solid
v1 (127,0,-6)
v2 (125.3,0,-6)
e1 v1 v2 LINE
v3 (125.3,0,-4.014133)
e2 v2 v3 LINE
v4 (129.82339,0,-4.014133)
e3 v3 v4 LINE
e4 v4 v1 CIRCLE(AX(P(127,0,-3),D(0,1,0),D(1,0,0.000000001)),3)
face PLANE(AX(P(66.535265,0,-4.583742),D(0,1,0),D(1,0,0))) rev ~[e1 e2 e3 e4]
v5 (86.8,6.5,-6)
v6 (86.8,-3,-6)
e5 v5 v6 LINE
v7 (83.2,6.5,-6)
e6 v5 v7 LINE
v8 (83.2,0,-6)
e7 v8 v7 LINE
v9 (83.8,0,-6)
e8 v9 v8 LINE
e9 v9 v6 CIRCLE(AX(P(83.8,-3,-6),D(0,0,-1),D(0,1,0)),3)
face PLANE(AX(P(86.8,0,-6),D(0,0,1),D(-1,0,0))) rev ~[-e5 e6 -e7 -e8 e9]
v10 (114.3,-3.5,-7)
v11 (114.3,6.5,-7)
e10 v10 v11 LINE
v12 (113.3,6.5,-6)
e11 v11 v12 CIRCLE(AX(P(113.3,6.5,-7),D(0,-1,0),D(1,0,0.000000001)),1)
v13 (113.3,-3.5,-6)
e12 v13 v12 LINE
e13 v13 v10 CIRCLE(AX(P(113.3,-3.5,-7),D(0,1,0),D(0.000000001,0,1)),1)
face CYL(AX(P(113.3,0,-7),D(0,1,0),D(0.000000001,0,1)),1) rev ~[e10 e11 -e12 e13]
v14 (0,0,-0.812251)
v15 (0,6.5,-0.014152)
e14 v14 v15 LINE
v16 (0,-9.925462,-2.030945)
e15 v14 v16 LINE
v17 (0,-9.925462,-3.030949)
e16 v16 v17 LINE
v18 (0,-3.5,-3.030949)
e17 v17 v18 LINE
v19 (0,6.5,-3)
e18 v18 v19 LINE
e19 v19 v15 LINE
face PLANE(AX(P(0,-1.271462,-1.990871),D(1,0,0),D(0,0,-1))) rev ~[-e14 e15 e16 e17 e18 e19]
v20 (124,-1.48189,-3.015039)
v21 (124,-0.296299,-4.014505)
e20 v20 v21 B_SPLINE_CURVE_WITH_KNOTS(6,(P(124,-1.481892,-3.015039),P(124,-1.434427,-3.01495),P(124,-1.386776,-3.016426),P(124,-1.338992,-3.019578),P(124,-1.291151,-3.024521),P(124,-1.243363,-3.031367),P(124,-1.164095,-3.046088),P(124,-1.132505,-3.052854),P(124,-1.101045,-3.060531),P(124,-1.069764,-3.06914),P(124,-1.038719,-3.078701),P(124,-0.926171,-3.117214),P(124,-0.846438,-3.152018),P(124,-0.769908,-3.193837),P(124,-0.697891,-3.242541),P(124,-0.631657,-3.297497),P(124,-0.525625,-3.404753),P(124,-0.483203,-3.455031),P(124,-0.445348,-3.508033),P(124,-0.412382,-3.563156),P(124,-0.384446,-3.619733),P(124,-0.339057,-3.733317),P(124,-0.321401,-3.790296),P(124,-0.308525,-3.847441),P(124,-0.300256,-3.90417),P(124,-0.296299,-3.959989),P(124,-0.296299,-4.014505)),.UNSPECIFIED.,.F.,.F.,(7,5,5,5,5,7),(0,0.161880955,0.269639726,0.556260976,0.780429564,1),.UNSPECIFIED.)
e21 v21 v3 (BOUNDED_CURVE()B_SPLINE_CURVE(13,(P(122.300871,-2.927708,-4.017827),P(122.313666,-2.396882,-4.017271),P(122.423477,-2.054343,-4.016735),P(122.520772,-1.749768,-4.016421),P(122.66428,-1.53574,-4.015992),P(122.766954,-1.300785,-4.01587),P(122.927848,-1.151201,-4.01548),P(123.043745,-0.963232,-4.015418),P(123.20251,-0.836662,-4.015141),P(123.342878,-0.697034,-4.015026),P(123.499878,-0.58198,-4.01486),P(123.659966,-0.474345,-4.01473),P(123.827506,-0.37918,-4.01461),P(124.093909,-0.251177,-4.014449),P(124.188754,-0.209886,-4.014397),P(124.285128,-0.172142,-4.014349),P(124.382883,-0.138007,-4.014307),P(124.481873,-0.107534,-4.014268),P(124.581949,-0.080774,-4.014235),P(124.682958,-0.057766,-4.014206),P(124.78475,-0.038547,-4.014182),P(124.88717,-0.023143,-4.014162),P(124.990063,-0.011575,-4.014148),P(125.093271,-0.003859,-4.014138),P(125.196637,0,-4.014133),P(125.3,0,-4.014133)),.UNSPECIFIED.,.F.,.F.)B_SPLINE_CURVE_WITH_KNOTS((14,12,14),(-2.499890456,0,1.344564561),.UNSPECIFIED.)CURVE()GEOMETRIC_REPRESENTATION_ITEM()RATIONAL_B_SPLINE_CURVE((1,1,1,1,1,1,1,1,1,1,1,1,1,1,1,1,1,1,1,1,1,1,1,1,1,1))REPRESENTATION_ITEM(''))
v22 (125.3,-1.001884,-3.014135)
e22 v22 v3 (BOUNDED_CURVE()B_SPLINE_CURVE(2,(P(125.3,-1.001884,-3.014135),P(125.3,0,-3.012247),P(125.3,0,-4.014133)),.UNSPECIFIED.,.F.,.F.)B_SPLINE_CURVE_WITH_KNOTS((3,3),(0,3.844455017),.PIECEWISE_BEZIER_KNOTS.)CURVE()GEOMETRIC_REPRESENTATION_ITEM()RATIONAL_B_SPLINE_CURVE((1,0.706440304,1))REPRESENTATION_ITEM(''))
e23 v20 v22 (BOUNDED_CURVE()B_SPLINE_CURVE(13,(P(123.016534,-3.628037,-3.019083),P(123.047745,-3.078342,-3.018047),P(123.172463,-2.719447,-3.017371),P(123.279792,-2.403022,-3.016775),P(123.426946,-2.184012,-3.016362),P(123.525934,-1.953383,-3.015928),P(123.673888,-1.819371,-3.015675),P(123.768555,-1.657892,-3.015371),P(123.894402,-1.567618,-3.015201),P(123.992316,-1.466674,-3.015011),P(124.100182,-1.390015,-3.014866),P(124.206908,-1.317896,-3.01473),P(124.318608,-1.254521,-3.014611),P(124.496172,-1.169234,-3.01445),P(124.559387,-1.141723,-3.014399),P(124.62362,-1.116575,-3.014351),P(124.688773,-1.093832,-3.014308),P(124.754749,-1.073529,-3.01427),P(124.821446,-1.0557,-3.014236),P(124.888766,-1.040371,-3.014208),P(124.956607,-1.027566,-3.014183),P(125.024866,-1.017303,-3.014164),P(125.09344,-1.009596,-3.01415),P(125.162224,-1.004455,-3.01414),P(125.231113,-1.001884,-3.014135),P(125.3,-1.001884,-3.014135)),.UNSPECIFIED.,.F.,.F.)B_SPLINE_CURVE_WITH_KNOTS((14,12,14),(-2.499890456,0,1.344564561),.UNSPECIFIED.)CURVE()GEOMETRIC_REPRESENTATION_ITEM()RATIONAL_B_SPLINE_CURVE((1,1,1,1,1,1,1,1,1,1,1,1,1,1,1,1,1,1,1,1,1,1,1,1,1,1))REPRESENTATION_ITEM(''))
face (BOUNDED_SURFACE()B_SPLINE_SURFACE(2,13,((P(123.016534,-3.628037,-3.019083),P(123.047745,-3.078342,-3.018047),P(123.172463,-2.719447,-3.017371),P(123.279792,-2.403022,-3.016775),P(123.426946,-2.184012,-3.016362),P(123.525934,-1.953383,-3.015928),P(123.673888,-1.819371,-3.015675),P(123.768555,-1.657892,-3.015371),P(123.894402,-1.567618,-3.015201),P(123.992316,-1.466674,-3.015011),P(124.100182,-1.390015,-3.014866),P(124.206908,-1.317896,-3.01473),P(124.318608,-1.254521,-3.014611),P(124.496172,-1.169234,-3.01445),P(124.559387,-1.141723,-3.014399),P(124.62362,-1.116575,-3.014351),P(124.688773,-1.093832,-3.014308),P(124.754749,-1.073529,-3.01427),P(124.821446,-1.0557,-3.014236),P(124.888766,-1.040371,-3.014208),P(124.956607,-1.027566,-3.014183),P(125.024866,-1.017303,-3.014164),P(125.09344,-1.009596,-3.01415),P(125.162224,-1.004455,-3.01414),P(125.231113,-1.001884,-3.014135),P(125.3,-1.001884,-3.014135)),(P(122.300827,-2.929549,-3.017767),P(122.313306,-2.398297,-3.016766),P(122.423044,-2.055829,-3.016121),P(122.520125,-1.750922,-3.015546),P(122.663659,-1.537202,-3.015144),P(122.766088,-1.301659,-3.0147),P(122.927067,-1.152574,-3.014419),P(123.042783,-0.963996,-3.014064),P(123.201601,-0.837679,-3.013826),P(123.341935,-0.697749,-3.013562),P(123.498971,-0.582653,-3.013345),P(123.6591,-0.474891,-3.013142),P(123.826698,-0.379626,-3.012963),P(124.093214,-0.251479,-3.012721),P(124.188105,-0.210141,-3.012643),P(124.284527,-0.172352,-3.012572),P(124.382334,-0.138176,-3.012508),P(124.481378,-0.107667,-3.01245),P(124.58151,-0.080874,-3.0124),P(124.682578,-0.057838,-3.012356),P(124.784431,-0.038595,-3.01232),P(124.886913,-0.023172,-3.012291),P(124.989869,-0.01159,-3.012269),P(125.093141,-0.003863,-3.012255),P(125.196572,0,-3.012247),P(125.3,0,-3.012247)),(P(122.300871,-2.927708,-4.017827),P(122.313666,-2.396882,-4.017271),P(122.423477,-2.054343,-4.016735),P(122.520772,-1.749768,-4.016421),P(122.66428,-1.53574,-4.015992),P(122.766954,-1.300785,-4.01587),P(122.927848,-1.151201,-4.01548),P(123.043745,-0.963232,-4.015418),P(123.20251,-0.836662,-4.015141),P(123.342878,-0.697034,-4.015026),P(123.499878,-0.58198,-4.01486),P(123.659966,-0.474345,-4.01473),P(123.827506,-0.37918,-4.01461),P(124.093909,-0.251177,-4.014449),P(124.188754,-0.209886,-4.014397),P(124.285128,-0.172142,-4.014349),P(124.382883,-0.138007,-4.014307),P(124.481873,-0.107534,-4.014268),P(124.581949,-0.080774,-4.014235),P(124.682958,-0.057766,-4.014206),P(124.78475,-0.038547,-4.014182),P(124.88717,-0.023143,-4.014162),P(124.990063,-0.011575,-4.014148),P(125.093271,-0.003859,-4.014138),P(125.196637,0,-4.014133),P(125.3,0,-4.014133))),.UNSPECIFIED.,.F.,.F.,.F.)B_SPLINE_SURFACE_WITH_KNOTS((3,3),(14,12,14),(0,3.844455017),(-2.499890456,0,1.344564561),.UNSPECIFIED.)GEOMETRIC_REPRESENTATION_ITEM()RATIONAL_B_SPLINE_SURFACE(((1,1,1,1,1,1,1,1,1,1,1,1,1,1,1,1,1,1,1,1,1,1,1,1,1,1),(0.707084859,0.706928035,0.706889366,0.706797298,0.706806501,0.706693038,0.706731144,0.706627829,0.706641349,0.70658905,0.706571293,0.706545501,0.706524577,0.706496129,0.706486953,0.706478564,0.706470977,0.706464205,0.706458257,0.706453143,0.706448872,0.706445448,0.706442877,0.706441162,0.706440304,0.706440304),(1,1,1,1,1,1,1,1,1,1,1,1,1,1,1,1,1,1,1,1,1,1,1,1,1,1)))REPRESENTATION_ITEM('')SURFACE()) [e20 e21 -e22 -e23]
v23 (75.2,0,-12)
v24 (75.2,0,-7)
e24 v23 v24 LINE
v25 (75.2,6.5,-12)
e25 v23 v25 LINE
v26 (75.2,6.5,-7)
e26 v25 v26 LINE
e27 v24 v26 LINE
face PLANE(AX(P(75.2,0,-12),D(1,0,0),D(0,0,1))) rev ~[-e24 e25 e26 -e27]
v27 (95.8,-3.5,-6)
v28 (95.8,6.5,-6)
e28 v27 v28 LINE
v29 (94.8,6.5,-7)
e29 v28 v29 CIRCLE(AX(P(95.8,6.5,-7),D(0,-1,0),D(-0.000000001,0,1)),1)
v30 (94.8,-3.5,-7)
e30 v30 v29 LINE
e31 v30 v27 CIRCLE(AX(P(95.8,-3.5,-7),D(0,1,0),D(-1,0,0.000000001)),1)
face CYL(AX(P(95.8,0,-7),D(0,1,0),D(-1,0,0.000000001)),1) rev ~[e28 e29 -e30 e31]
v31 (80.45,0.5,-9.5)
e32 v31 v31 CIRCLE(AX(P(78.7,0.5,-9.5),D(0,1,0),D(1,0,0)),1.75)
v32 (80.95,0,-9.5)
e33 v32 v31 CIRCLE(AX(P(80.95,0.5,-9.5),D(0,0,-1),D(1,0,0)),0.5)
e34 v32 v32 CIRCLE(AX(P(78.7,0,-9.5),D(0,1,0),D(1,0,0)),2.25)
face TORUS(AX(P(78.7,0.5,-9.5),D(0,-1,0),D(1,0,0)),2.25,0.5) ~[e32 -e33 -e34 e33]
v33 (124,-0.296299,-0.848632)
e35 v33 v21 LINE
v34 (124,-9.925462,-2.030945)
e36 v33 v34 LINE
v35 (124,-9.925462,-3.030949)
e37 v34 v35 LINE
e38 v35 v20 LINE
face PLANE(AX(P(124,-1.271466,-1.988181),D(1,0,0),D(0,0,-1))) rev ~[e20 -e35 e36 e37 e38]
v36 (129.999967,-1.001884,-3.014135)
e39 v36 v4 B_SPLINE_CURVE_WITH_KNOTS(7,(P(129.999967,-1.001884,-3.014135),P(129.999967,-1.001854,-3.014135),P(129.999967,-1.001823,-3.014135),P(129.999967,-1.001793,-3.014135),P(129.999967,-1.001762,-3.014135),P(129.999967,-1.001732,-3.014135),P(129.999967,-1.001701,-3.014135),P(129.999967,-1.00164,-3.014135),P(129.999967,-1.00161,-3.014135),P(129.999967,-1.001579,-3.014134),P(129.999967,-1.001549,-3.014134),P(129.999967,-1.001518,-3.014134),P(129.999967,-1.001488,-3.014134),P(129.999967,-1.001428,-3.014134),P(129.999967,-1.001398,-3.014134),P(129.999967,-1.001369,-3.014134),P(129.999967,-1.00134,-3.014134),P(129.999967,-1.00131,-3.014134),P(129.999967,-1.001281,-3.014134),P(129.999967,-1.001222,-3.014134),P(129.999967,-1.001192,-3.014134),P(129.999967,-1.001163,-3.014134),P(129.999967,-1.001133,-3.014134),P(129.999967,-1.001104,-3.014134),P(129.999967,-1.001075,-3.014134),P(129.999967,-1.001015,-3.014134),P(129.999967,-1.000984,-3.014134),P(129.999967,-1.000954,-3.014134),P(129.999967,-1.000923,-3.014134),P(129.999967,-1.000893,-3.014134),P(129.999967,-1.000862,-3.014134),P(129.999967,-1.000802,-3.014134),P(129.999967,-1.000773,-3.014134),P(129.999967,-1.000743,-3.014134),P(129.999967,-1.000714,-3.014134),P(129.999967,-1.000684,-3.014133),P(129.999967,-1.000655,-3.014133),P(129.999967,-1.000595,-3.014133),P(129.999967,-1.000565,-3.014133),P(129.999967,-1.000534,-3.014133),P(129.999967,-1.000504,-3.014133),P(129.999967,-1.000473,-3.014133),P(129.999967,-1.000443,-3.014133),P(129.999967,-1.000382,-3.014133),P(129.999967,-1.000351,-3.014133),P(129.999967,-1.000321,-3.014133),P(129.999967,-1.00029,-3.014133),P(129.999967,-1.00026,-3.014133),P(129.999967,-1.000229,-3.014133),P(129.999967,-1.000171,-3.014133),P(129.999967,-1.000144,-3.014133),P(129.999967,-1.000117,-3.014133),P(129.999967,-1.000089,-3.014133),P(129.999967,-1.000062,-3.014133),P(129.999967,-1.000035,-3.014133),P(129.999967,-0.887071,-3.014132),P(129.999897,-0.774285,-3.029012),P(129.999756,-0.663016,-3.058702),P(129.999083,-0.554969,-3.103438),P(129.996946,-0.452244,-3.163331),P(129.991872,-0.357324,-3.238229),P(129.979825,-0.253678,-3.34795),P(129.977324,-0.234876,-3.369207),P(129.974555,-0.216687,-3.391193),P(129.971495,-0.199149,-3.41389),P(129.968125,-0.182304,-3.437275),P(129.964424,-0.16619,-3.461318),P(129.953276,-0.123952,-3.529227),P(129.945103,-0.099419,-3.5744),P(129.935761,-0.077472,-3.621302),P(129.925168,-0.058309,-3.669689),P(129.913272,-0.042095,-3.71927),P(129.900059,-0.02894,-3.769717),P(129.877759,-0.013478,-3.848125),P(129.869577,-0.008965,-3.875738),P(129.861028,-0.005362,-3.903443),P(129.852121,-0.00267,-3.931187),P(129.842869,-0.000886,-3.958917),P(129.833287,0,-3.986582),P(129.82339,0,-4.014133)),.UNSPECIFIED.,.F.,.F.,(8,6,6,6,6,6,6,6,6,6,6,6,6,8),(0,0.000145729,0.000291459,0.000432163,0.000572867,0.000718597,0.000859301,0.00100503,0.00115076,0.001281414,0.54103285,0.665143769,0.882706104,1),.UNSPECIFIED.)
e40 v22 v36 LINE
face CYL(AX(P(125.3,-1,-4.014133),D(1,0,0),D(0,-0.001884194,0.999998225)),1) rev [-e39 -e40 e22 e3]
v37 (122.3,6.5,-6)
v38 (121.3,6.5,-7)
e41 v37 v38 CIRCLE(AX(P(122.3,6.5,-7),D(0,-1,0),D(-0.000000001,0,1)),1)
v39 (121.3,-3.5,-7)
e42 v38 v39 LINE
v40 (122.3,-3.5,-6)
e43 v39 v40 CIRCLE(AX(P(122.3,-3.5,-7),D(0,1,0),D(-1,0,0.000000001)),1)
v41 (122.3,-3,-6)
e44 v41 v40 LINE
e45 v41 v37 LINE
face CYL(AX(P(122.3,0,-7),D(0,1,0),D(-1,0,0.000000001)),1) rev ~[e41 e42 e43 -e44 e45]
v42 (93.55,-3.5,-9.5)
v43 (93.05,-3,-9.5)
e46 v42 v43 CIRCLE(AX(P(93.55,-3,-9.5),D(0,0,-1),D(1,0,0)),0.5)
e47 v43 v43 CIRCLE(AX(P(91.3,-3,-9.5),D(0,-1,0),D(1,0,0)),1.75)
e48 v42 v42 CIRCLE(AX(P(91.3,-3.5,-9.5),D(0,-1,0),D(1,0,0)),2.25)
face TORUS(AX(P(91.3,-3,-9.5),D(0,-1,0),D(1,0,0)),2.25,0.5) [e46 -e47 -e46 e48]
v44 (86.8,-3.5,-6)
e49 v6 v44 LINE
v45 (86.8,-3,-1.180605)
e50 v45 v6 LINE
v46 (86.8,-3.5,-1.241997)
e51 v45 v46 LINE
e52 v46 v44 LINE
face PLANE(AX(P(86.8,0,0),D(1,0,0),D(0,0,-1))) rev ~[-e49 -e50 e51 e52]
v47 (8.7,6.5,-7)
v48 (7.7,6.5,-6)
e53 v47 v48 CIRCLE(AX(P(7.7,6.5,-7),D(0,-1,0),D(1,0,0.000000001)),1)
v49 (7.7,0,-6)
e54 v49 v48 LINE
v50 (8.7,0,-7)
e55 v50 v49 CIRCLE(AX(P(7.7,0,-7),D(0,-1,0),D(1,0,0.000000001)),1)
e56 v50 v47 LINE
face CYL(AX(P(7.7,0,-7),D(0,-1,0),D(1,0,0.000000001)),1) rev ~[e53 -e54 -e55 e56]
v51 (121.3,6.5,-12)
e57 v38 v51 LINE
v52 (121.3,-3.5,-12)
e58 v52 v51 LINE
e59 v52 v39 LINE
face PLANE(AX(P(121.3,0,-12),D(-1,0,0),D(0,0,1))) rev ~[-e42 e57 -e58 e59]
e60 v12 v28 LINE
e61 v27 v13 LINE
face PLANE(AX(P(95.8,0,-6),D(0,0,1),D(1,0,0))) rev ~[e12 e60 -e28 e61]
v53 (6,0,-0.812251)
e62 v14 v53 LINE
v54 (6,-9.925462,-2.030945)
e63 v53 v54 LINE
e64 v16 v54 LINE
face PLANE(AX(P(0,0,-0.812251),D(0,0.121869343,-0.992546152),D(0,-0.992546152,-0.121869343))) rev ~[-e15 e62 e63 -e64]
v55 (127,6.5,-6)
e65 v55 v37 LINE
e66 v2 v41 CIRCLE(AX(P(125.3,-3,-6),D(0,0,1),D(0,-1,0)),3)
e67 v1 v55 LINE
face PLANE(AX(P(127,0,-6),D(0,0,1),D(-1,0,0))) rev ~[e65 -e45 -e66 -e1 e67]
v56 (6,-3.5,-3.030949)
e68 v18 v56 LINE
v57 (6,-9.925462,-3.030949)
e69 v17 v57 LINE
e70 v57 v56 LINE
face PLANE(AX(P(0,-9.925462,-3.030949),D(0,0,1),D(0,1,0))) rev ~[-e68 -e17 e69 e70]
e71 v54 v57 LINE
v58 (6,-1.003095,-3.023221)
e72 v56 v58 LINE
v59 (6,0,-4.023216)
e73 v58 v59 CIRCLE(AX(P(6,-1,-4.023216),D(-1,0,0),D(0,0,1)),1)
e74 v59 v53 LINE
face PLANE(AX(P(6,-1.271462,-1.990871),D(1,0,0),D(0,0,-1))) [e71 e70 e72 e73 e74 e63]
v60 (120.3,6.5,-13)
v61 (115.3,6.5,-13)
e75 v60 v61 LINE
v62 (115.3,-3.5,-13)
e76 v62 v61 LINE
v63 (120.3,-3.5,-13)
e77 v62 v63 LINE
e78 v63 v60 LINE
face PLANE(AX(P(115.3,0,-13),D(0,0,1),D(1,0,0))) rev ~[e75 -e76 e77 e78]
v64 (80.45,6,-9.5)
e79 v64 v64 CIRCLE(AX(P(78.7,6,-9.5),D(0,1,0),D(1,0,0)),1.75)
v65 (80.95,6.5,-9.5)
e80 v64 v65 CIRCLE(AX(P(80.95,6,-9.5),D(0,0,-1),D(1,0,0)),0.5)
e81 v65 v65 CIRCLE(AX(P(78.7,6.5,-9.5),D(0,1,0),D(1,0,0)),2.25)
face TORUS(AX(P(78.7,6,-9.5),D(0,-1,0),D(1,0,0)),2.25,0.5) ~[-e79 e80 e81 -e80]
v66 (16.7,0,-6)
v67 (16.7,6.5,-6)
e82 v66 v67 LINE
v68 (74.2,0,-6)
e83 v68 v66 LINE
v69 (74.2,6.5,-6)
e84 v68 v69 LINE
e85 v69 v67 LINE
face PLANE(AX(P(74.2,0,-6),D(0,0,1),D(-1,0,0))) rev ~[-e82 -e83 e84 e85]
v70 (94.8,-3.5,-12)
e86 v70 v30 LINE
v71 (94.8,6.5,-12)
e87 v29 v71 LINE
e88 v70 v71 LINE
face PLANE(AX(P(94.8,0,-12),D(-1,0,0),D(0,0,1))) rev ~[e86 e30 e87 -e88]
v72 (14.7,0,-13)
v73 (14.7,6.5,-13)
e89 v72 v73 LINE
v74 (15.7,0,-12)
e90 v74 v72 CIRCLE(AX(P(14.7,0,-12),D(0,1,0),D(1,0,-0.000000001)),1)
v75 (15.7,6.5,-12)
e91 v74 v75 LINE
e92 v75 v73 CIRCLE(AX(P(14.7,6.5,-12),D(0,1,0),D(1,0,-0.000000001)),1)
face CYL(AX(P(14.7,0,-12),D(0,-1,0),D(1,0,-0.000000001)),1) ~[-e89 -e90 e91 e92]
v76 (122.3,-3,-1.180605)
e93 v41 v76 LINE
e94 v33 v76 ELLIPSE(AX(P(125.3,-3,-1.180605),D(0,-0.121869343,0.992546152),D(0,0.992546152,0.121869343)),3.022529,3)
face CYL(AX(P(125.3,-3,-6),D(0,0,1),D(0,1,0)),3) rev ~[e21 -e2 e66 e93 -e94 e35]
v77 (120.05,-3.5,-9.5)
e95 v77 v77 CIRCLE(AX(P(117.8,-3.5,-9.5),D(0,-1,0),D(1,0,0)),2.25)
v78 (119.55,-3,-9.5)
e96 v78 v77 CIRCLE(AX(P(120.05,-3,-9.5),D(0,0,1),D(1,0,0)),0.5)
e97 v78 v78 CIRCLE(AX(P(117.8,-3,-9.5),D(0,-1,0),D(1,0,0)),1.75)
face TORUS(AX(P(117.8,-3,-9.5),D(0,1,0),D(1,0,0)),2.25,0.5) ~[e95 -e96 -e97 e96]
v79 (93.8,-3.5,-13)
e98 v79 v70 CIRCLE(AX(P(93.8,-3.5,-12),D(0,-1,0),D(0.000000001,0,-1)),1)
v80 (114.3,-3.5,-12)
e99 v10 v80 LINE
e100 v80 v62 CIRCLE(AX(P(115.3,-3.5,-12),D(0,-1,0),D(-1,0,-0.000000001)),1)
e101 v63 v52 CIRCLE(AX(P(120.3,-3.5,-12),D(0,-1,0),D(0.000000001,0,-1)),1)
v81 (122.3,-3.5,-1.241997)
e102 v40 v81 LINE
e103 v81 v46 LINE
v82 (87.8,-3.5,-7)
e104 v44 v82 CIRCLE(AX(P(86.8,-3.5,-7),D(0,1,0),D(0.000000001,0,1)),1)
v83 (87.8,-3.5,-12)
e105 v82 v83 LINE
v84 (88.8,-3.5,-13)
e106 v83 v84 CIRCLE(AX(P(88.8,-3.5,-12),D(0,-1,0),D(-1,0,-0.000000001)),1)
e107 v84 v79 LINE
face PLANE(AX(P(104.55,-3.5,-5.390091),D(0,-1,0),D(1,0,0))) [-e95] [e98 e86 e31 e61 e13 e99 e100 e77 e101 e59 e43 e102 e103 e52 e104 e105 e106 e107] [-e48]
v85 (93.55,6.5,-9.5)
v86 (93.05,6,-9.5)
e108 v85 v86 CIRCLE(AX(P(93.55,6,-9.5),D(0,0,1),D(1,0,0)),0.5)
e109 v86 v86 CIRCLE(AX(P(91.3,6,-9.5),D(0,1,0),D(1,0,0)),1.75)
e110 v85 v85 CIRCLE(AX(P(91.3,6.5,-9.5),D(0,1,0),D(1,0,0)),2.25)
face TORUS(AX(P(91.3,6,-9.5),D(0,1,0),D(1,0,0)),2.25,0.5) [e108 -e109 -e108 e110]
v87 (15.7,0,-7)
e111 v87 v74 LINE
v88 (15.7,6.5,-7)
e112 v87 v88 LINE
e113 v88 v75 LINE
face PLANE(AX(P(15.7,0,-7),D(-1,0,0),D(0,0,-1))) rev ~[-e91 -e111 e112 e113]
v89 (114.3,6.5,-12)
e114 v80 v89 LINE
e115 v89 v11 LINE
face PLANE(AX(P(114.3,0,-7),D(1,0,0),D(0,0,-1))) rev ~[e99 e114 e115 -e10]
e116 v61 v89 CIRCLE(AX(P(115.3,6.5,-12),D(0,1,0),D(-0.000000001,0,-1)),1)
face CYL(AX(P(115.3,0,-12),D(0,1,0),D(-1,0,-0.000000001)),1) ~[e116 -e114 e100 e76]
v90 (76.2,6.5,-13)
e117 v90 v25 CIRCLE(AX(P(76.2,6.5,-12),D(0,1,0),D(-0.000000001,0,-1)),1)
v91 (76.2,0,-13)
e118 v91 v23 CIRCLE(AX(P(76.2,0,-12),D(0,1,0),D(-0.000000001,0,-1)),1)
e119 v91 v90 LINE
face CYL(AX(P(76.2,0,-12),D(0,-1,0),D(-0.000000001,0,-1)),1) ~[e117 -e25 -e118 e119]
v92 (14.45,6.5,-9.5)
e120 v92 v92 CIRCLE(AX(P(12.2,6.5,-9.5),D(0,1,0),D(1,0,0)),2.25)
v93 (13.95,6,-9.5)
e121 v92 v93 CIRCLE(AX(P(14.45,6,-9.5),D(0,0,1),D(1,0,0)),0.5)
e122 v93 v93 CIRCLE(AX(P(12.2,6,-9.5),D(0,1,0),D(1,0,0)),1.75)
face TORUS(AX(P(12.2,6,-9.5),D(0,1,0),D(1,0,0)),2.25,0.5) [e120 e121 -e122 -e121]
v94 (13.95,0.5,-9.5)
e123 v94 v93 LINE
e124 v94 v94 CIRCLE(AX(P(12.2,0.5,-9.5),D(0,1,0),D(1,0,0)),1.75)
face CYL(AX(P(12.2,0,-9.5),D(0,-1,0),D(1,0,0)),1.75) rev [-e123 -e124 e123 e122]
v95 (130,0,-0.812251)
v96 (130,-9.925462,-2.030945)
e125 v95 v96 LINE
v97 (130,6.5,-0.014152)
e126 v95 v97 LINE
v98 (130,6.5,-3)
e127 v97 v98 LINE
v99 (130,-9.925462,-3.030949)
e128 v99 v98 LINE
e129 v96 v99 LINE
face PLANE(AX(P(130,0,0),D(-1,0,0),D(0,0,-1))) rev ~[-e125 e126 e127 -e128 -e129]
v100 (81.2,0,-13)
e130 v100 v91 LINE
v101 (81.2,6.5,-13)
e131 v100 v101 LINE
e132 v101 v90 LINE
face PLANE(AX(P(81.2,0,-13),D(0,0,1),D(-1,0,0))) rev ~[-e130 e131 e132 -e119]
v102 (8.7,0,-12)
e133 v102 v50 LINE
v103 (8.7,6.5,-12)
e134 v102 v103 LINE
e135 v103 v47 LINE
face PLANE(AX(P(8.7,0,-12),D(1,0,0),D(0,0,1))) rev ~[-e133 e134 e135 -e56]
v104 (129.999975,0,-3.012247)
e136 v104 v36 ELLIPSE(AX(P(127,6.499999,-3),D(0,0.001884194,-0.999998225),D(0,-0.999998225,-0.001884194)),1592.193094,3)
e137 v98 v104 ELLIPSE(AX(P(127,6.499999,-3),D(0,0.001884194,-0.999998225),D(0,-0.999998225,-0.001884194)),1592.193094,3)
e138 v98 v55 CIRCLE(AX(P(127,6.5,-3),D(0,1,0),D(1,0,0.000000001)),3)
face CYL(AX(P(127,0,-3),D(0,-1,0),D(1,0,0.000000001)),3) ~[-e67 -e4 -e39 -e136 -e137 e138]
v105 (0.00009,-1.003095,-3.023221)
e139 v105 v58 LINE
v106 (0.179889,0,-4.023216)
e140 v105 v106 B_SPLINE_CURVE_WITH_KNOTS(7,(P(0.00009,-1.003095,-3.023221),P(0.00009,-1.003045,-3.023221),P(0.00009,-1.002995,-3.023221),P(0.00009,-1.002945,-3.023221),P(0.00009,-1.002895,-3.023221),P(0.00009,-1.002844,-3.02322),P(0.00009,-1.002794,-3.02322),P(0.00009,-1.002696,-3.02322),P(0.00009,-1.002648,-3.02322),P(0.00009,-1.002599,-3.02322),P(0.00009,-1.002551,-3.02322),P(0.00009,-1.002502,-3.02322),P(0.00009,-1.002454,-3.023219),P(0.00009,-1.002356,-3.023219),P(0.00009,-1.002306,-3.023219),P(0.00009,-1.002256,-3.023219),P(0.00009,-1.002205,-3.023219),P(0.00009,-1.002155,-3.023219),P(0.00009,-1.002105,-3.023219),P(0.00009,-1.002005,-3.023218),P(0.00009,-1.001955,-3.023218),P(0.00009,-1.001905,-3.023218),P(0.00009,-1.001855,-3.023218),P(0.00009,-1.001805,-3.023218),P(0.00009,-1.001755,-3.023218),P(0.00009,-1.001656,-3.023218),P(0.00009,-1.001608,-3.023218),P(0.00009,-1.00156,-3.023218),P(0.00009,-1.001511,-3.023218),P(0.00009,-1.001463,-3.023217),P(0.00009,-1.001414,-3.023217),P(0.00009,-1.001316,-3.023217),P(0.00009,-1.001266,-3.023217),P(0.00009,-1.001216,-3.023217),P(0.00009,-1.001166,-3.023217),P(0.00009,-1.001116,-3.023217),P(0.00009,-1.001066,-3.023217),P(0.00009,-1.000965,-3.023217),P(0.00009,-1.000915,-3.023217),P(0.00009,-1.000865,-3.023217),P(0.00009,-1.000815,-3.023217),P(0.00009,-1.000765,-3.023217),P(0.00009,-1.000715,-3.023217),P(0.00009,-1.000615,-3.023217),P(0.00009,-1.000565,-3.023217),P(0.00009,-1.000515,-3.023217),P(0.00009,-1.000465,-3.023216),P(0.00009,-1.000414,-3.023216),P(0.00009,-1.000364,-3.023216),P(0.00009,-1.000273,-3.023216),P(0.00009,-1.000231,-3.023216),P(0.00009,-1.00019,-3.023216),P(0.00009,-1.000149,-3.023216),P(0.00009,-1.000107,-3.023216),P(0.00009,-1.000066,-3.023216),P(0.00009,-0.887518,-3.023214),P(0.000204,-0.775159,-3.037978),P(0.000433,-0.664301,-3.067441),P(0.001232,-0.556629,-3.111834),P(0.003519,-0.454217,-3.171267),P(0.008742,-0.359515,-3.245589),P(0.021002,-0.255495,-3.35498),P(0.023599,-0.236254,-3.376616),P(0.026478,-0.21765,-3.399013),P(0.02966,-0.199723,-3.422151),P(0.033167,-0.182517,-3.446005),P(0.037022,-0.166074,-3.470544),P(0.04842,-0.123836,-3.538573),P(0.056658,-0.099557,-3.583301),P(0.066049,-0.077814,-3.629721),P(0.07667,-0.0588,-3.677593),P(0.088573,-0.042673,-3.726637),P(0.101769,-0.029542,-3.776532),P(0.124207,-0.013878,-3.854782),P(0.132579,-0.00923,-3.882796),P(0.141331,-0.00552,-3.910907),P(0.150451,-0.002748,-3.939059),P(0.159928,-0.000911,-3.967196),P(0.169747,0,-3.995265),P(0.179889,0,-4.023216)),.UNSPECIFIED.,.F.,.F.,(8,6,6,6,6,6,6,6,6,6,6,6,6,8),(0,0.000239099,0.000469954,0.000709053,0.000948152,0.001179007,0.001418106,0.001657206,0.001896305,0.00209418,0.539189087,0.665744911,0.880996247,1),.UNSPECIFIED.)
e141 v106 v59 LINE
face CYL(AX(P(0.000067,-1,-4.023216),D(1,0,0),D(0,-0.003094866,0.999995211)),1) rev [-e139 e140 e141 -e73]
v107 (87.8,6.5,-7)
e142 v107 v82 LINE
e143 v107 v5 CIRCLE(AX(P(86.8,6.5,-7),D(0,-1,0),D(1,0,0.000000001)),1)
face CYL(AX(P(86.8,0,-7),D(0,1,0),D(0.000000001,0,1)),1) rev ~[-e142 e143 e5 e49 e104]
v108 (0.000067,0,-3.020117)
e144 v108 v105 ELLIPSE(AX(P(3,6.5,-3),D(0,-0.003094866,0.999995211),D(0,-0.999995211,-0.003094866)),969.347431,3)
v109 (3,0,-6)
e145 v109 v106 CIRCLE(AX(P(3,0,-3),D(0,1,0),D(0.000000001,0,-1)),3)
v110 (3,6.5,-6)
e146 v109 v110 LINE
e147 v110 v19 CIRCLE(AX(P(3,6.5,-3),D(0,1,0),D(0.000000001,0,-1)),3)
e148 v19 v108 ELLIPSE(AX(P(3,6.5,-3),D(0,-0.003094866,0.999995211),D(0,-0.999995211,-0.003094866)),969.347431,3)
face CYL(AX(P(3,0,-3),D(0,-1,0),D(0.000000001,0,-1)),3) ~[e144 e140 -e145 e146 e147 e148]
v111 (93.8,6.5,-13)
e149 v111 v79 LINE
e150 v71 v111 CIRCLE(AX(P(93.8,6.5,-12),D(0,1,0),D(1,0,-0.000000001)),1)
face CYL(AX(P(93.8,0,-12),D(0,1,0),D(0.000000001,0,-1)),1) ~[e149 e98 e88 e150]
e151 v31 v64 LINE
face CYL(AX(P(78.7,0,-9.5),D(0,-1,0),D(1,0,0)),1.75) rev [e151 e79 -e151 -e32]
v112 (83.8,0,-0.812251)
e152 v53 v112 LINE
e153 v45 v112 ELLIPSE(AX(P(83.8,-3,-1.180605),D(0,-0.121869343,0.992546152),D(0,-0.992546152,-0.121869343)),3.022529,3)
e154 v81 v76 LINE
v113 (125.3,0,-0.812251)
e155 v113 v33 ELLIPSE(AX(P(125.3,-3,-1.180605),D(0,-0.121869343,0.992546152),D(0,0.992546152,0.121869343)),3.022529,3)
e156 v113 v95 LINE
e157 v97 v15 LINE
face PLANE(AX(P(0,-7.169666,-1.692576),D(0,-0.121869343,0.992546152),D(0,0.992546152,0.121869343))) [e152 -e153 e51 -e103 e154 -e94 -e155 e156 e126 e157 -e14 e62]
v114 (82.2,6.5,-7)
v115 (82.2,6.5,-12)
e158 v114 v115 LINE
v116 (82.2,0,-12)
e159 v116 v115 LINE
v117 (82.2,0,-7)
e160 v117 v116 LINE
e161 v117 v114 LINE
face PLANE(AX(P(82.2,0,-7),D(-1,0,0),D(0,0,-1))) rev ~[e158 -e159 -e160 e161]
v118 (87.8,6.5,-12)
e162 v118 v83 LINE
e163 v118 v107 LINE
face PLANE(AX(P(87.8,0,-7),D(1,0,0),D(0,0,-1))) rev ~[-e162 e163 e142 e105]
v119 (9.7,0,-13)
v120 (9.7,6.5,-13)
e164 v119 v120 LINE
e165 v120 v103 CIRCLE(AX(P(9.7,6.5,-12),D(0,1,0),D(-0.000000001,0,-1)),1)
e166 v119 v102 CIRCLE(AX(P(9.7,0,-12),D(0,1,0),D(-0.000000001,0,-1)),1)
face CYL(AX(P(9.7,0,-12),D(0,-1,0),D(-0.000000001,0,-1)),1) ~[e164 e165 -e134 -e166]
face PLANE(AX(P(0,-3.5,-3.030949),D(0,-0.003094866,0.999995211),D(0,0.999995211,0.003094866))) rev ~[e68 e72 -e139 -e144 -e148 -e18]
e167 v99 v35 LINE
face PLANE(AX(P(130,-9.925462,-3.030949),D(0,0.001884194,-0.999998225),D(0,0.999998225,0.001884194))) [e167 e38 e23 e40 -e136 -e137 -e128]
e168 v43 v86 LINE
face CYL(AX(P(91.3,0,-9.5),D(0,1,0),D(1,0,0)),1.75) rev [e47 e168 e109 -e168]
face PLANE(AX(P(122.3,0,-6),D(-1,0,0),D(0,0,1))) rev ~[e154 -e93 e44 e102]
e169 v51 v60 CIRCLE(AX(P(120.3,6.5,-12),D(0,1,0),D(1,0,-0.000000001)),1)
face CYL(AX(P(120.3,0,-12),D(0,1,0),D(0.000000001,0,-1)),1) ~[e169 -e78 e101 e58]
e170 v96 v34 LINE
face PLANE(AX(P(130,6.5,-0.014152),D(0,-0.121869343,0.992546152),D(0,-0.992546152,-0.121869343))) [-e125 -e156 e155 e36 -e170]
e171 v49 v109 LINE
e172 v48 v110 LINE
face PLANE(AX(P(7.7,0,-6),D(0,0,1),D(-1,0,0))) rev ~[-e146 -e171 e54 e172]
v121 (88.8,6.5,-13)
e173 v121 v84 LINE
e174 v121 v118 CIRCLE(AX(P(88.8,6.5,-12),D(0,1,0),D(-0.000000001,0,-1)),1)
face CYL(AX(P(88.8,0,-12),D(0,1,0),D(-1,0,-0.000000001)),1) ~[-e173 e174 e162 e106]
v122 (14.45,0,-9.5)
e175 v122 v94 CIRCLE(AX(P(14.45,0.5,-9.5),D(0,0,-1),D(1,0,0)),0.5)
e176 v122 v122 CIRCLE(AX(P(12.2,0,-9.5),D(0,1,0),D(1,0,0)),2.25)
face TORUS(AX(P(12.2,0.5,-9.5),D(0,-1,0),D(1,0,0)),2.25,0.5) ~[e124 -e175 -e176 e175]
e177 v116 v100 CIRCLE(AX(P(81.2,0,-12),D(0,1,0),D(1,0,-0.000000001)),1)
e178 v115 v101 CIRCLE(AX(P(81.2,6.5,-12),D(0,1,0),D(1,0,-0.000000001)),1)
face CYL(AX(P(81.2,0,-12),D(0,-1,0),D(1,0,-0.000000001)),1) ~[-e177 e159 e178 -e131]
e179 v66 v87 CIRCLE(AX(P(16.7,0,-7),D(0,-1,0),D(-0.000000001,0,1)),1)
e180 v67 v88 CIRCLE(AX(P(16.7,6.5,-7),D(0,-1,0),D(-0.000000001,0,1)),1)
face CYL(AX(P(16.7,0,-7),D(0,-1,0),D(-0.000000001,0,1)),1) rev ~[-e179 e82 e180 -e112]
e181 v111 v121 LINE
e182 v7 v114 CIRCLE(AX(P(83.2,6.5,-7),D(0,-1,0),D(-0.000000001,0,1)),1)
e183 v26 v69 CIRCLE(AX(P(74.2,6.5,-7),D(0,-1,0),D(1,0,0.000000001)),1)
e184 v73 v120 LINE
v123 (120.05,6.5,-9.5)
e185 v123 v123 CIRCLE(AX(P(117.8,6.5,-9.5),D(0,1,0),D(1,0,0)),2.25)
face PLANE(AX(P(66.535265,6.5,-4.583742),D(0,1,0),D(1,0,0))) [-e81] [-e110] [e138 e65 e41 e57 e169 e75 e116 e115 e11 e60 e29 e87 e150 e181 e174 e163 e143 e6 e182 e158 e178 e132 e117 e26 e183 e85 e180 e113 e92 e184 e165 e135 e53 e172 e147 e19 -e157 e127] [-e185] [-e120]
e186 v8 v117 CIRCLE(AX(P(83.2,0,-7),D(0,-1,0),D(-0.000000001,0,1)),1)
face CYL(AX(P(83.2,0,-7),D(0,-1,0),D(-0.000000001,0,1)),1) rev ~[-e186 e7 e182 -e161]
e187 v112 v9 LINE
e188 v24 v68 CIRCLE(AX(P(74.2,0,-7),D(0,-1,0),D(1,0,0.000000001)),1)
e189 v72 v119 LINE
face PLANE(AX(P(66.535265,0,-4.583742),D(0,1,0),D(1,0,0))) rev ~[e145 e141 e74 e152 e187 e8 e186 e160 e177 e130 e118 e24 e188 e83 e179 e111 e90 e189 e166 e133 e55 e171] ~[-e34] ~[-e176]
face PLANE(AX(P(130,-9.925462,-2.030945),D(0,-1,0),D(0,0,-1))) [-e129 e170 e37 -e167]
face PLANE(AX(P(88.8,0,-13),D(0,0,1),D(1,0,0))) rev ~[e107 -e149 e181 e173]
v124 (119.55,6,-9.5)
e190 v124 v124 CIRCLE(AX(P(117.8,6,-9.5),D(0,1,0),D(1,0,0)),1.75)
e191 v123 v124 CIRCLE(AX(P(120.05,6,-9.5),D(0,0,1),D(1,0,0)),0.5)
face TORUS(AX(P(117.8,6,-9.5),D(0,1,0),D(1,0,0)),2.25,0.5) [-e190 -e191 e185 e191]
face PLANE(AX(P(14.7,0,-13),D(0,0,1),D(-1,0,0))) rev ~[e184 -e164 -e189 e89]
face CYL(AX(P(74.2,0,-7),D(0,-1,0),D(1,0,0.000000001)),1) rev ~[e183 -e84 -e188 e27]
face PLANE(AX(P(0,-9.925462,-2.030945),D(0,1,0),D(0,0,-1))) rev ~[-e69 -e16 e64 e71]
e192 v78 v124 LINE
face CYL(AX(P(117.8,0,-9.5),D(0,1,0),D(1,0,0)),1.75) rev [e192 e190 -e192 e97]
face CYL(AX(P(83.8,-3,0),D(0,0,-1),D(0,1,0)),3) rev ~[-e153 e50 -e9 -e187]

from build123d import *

# Parameters (mm, degrees)
SKETCH1_R           = 1.75
BOSS_EXTRUDE1_DEPTH = 6.5
SKETCH3_R           = 1.75
BOSS_EXTRUDE2_DEPTH = 3.5
FILLET1_R           = 3
FILLET2_R           = 0.5
CUT_EXTRUDE1_DEPTH  = 176.5
BOSS_EXTRUDE3_DEPTH = 6
FILLET3_R           = 1
BOSS_EXTRUDE4_DEPTH = 6
FILLET4_R           = 1


with BuildPart() as part:
    # Sketch1 → Boss-Extrude1 (new body)
    with BuildSketch(Plane(origin=(0, 0, 0), x_dir=(1, 0, 0), z_dir=(0, 1, 0))):
        with BuildLine():
            Line((0, 0), (130, 0))
            Line((130, 0), (130, 3))
            ThreePointArc((130, 3), (129.121320344, 5.121320344), (127, 6))
            Line((127, 6), (122.3, 6))
            ThreePointArc((122.3, 6), (121.592893219, 6.292893219), (121.3, 7))
            Line((121.3, 7), (121.3, 12))
            ThreePointArc((121.3, 12), (121.007106781, 12.707106781), (120.3, 13))
            Line((120.3, 13), (115.3, 13))
            ThreePointArc((115.3, 13), (114.592893219, 12.707106781), (114.3, 12))
            Line((114.3, 12), (114.3, 7))
            ThreePointArc((114.3, 7), (114.007106781, 6.292893219), (113.3, 6))
            Line((113.3, 6), (95.8, 6))
            ThreePointArc((95.8, 6), (95.092893219, 6.292893219), (94.8, 7))
            Line((94.8, 7), (94.8, 12))
            ThreePointArc((94.8, 12), (94.507106781, 12.707106781), (93.8, 13))
            Line((93.8, 13), (88.8, 13))
            ThreePointArc((88.8, 13), (88.092893219, 12.707106781), (87.8, 12))
            Line((87.8, 12), (87.8, 7))
            ThreePointArc((87.8, 7), (87.507106781, 6.292893219), (86.8, 6))
            Line((86.8, 6), (83.200000395, 6))
            ThreePointArc((83.200000395, 6), (82.492893614, 6.292893219), (82.200000395, 7))
            Line((82.200000395, 7), (82.200000395, 12))
            ThreePointArc((82.200000395, 12), (81.907107176, 12.707106781), (81.200000395, 13))
            Line((81.200000395, 13), (76.2, 13))
            ThreePointArc((76.2, 13), (75.492893219, 12.707106781), (75.2, 12))
            Line((75.2, 12), (75.2, 7))
            ThreePointArc((75.2, 7), (74.907106781, 6.292893219), (74.2, 6))
            Line((74.2, 6), (16.7, 6))
            ThreePointArc((16.7, 6), (15.992893219, 6.292893219), (15.7, 7))
            Line((15.7, 7), (15.7, 12))
            ThreePointArc((15.7, 12), (15.407106781, 12.707106781), (14.7, 13))
            Line((14.7, 13), (9.7, 13))
            ThreePointArc((9.7, 13), (8.992893219, 12.707106781), (8.7, 12))
            Line((8.7, 12), (8.7, 7))
            ThreePointArc((8.7, 7), (8.407106781, 6.292893219), (7.7, 6))
            Line((7.7, 6), (3, 6))
            ThreePointArc((3, 6), (0.878679656, 5.121320344), (0, 3))
            Line((0, 3), (0, 0))
        make_face()
        with Locations((78.7, 9.5)):
            Circle(SKETCH1_R, mode=Mode.SUBTRACT)
        with Locations((12.2, 9.5)):
            Circle(SKETCH1_R, mode=Mode.SUBTRACT)
        with Locations((91.3, 9.5)):
            Circle(SKETCH1_R, mode=Mode.SUBTRACT)
        with Locations((117.8, 9.5)):
            Circle(SKETCH1_R, mode=Mode.SUBTRACT)
    extrude(amount=BOSS_EXTRUDE1_DEPTH)

    # Sketch3 → Boss-Extrude2 (add)
    with BuildSketch(Plane.XZ):
        with BuildLine():
            Line((121.3, -12), (121.3, -7))
            ThreePointArc((121.3, -7), (121.592893219, -6.292893219), (122.3, -6))
            Line((122.3, -6), (122.3, 0))
            Line((122.3, 0), (86.8, 0))
            Line((86.8, 0), (86.8, -6))
            ThreePointArc((86.8, -6), (87.507106781, -6.292893219), (87.8, -7))
            Line((87.8, -7), (87.8, -12))
            ThreePointArc((87.8, -12), (88.092893219, -12.707106781), (88.8, -13))
            Line((88.8, -13), (93.8, -13))
            ThreePointArc((93.8, -13), (94.507106781, -12.707106781), (94.8, -12))
            Line((94.8, -12), (94.8, -7))
            ThreePointArc((94.8, -7), (95.092893219, -6.292893219), (95.8, -6))
            Line((95.8, -6), (113.3, -6))
            ThreePointArc((113.3, -6), (114.007106781, -6.292893219), (114.3, -7))
            Line((114.3, -7), (114.3, -12))
            ThreePointArc((114.3, -12), (114.592893219, -12.707106781), (115.3, -13))
            Line((115.3, -13), (120.3, -13))
            ThreePointArc((120.3, -13), (121.007106781, -12.707106781), (121.3, -12))
        make_face()
        with Locations((91.3, -9.5)):
            Circle(SKETCH3_R, mode=Mode.SUBTRACT)
        with Locations((117.8, -9.5)):
            Circle(SKETCH3_R, mode=Mode.SUBTRACT)
    extrude(amount=BOSS_EXTRUDE2_DEPTH)

    # Fillet1
    fillet1_edges = [part.edges().sort_by_distance(p)[0] for p in [
        (86.8, 0, -3),
        (122.3, 0, -3),
    ]]
    fillet(fillet1_edges, radius=FILLET1_R)

    # Fillet2
    fillet2_edges = [part.edges().sort_by_distance(p)[0] for p in [
        (89.55, -3.5, -9.5),
        (116.05, -3.5, -9.5),
        (76.95, 0, -9.5),
        (76.95, 6.5, -9.5),
        (10.45, 0, -9.5),
        (10.45, 6.5, -9.5),
        (89.55, 6.5, -9.5),
        (116.05, 6.5, -9.5),
    ]]
    fillet(fillet2_edges, radius=FILLET2_R)

    # Sketch5 → Cut-Extrude1 (cut)
    with BuildSketch(Plane.ZY):
        Polygon((0, 6.61525709), (0, -3.5), (0, -7.169665504), (-1.692575668, -7.169665504), align=None)
    extrude(amount=-CUT_EXTRUDE1_DEPTH, mode=Mode.SUBTRACT)

    # Sketch6 → Boss-Extrude3 (add)
    with BuildSketch(Plane.ZY):
        Polygon((-0.812251437, 0), (-2.030944871, -9.925461516), (-3.030948804, -9.925461516), (-3.030948804, -3.5), (-3, 6.5), (-0.014151791, 6.5), align=None)
    extrude(amount=-BOSS_EXTRUDE3_DEPTH)

    # Fillet3
    fillet3_edges = [part.edges().sort_by_distance(p)[0] for p in [
        (3.000033724, 0, -3.020116723),
    ]]
    fillet(fillet3_edges, radius=FILLET3_R)

    # Sketch7 → Boss-Extrude4 (add)
    with BuildSketch(Plane(origin=(130, 0, 0), x_dir=(0, 0, -1), z_dir=(1, 0, 0))):
        Polygon((0.014151791, 6.5), (2.030944871, -9.925461516), (3.030948804, -9.925461516), (3, 6.5), align=None)
    extrude(amount=-BOSS_EXTRUDE4_DEPTH)

    # Fillet4
    fillet4_edges = [part.edges().sort_by_distance(p)[0] for p in [
        (124.633330424, -0.075012534, -3.012388618),
        (127.6499875, 0, -3.01224728),
    ]]
    fillet(fillet4_edges, radius=FILLET4_R)


solid = part.part
